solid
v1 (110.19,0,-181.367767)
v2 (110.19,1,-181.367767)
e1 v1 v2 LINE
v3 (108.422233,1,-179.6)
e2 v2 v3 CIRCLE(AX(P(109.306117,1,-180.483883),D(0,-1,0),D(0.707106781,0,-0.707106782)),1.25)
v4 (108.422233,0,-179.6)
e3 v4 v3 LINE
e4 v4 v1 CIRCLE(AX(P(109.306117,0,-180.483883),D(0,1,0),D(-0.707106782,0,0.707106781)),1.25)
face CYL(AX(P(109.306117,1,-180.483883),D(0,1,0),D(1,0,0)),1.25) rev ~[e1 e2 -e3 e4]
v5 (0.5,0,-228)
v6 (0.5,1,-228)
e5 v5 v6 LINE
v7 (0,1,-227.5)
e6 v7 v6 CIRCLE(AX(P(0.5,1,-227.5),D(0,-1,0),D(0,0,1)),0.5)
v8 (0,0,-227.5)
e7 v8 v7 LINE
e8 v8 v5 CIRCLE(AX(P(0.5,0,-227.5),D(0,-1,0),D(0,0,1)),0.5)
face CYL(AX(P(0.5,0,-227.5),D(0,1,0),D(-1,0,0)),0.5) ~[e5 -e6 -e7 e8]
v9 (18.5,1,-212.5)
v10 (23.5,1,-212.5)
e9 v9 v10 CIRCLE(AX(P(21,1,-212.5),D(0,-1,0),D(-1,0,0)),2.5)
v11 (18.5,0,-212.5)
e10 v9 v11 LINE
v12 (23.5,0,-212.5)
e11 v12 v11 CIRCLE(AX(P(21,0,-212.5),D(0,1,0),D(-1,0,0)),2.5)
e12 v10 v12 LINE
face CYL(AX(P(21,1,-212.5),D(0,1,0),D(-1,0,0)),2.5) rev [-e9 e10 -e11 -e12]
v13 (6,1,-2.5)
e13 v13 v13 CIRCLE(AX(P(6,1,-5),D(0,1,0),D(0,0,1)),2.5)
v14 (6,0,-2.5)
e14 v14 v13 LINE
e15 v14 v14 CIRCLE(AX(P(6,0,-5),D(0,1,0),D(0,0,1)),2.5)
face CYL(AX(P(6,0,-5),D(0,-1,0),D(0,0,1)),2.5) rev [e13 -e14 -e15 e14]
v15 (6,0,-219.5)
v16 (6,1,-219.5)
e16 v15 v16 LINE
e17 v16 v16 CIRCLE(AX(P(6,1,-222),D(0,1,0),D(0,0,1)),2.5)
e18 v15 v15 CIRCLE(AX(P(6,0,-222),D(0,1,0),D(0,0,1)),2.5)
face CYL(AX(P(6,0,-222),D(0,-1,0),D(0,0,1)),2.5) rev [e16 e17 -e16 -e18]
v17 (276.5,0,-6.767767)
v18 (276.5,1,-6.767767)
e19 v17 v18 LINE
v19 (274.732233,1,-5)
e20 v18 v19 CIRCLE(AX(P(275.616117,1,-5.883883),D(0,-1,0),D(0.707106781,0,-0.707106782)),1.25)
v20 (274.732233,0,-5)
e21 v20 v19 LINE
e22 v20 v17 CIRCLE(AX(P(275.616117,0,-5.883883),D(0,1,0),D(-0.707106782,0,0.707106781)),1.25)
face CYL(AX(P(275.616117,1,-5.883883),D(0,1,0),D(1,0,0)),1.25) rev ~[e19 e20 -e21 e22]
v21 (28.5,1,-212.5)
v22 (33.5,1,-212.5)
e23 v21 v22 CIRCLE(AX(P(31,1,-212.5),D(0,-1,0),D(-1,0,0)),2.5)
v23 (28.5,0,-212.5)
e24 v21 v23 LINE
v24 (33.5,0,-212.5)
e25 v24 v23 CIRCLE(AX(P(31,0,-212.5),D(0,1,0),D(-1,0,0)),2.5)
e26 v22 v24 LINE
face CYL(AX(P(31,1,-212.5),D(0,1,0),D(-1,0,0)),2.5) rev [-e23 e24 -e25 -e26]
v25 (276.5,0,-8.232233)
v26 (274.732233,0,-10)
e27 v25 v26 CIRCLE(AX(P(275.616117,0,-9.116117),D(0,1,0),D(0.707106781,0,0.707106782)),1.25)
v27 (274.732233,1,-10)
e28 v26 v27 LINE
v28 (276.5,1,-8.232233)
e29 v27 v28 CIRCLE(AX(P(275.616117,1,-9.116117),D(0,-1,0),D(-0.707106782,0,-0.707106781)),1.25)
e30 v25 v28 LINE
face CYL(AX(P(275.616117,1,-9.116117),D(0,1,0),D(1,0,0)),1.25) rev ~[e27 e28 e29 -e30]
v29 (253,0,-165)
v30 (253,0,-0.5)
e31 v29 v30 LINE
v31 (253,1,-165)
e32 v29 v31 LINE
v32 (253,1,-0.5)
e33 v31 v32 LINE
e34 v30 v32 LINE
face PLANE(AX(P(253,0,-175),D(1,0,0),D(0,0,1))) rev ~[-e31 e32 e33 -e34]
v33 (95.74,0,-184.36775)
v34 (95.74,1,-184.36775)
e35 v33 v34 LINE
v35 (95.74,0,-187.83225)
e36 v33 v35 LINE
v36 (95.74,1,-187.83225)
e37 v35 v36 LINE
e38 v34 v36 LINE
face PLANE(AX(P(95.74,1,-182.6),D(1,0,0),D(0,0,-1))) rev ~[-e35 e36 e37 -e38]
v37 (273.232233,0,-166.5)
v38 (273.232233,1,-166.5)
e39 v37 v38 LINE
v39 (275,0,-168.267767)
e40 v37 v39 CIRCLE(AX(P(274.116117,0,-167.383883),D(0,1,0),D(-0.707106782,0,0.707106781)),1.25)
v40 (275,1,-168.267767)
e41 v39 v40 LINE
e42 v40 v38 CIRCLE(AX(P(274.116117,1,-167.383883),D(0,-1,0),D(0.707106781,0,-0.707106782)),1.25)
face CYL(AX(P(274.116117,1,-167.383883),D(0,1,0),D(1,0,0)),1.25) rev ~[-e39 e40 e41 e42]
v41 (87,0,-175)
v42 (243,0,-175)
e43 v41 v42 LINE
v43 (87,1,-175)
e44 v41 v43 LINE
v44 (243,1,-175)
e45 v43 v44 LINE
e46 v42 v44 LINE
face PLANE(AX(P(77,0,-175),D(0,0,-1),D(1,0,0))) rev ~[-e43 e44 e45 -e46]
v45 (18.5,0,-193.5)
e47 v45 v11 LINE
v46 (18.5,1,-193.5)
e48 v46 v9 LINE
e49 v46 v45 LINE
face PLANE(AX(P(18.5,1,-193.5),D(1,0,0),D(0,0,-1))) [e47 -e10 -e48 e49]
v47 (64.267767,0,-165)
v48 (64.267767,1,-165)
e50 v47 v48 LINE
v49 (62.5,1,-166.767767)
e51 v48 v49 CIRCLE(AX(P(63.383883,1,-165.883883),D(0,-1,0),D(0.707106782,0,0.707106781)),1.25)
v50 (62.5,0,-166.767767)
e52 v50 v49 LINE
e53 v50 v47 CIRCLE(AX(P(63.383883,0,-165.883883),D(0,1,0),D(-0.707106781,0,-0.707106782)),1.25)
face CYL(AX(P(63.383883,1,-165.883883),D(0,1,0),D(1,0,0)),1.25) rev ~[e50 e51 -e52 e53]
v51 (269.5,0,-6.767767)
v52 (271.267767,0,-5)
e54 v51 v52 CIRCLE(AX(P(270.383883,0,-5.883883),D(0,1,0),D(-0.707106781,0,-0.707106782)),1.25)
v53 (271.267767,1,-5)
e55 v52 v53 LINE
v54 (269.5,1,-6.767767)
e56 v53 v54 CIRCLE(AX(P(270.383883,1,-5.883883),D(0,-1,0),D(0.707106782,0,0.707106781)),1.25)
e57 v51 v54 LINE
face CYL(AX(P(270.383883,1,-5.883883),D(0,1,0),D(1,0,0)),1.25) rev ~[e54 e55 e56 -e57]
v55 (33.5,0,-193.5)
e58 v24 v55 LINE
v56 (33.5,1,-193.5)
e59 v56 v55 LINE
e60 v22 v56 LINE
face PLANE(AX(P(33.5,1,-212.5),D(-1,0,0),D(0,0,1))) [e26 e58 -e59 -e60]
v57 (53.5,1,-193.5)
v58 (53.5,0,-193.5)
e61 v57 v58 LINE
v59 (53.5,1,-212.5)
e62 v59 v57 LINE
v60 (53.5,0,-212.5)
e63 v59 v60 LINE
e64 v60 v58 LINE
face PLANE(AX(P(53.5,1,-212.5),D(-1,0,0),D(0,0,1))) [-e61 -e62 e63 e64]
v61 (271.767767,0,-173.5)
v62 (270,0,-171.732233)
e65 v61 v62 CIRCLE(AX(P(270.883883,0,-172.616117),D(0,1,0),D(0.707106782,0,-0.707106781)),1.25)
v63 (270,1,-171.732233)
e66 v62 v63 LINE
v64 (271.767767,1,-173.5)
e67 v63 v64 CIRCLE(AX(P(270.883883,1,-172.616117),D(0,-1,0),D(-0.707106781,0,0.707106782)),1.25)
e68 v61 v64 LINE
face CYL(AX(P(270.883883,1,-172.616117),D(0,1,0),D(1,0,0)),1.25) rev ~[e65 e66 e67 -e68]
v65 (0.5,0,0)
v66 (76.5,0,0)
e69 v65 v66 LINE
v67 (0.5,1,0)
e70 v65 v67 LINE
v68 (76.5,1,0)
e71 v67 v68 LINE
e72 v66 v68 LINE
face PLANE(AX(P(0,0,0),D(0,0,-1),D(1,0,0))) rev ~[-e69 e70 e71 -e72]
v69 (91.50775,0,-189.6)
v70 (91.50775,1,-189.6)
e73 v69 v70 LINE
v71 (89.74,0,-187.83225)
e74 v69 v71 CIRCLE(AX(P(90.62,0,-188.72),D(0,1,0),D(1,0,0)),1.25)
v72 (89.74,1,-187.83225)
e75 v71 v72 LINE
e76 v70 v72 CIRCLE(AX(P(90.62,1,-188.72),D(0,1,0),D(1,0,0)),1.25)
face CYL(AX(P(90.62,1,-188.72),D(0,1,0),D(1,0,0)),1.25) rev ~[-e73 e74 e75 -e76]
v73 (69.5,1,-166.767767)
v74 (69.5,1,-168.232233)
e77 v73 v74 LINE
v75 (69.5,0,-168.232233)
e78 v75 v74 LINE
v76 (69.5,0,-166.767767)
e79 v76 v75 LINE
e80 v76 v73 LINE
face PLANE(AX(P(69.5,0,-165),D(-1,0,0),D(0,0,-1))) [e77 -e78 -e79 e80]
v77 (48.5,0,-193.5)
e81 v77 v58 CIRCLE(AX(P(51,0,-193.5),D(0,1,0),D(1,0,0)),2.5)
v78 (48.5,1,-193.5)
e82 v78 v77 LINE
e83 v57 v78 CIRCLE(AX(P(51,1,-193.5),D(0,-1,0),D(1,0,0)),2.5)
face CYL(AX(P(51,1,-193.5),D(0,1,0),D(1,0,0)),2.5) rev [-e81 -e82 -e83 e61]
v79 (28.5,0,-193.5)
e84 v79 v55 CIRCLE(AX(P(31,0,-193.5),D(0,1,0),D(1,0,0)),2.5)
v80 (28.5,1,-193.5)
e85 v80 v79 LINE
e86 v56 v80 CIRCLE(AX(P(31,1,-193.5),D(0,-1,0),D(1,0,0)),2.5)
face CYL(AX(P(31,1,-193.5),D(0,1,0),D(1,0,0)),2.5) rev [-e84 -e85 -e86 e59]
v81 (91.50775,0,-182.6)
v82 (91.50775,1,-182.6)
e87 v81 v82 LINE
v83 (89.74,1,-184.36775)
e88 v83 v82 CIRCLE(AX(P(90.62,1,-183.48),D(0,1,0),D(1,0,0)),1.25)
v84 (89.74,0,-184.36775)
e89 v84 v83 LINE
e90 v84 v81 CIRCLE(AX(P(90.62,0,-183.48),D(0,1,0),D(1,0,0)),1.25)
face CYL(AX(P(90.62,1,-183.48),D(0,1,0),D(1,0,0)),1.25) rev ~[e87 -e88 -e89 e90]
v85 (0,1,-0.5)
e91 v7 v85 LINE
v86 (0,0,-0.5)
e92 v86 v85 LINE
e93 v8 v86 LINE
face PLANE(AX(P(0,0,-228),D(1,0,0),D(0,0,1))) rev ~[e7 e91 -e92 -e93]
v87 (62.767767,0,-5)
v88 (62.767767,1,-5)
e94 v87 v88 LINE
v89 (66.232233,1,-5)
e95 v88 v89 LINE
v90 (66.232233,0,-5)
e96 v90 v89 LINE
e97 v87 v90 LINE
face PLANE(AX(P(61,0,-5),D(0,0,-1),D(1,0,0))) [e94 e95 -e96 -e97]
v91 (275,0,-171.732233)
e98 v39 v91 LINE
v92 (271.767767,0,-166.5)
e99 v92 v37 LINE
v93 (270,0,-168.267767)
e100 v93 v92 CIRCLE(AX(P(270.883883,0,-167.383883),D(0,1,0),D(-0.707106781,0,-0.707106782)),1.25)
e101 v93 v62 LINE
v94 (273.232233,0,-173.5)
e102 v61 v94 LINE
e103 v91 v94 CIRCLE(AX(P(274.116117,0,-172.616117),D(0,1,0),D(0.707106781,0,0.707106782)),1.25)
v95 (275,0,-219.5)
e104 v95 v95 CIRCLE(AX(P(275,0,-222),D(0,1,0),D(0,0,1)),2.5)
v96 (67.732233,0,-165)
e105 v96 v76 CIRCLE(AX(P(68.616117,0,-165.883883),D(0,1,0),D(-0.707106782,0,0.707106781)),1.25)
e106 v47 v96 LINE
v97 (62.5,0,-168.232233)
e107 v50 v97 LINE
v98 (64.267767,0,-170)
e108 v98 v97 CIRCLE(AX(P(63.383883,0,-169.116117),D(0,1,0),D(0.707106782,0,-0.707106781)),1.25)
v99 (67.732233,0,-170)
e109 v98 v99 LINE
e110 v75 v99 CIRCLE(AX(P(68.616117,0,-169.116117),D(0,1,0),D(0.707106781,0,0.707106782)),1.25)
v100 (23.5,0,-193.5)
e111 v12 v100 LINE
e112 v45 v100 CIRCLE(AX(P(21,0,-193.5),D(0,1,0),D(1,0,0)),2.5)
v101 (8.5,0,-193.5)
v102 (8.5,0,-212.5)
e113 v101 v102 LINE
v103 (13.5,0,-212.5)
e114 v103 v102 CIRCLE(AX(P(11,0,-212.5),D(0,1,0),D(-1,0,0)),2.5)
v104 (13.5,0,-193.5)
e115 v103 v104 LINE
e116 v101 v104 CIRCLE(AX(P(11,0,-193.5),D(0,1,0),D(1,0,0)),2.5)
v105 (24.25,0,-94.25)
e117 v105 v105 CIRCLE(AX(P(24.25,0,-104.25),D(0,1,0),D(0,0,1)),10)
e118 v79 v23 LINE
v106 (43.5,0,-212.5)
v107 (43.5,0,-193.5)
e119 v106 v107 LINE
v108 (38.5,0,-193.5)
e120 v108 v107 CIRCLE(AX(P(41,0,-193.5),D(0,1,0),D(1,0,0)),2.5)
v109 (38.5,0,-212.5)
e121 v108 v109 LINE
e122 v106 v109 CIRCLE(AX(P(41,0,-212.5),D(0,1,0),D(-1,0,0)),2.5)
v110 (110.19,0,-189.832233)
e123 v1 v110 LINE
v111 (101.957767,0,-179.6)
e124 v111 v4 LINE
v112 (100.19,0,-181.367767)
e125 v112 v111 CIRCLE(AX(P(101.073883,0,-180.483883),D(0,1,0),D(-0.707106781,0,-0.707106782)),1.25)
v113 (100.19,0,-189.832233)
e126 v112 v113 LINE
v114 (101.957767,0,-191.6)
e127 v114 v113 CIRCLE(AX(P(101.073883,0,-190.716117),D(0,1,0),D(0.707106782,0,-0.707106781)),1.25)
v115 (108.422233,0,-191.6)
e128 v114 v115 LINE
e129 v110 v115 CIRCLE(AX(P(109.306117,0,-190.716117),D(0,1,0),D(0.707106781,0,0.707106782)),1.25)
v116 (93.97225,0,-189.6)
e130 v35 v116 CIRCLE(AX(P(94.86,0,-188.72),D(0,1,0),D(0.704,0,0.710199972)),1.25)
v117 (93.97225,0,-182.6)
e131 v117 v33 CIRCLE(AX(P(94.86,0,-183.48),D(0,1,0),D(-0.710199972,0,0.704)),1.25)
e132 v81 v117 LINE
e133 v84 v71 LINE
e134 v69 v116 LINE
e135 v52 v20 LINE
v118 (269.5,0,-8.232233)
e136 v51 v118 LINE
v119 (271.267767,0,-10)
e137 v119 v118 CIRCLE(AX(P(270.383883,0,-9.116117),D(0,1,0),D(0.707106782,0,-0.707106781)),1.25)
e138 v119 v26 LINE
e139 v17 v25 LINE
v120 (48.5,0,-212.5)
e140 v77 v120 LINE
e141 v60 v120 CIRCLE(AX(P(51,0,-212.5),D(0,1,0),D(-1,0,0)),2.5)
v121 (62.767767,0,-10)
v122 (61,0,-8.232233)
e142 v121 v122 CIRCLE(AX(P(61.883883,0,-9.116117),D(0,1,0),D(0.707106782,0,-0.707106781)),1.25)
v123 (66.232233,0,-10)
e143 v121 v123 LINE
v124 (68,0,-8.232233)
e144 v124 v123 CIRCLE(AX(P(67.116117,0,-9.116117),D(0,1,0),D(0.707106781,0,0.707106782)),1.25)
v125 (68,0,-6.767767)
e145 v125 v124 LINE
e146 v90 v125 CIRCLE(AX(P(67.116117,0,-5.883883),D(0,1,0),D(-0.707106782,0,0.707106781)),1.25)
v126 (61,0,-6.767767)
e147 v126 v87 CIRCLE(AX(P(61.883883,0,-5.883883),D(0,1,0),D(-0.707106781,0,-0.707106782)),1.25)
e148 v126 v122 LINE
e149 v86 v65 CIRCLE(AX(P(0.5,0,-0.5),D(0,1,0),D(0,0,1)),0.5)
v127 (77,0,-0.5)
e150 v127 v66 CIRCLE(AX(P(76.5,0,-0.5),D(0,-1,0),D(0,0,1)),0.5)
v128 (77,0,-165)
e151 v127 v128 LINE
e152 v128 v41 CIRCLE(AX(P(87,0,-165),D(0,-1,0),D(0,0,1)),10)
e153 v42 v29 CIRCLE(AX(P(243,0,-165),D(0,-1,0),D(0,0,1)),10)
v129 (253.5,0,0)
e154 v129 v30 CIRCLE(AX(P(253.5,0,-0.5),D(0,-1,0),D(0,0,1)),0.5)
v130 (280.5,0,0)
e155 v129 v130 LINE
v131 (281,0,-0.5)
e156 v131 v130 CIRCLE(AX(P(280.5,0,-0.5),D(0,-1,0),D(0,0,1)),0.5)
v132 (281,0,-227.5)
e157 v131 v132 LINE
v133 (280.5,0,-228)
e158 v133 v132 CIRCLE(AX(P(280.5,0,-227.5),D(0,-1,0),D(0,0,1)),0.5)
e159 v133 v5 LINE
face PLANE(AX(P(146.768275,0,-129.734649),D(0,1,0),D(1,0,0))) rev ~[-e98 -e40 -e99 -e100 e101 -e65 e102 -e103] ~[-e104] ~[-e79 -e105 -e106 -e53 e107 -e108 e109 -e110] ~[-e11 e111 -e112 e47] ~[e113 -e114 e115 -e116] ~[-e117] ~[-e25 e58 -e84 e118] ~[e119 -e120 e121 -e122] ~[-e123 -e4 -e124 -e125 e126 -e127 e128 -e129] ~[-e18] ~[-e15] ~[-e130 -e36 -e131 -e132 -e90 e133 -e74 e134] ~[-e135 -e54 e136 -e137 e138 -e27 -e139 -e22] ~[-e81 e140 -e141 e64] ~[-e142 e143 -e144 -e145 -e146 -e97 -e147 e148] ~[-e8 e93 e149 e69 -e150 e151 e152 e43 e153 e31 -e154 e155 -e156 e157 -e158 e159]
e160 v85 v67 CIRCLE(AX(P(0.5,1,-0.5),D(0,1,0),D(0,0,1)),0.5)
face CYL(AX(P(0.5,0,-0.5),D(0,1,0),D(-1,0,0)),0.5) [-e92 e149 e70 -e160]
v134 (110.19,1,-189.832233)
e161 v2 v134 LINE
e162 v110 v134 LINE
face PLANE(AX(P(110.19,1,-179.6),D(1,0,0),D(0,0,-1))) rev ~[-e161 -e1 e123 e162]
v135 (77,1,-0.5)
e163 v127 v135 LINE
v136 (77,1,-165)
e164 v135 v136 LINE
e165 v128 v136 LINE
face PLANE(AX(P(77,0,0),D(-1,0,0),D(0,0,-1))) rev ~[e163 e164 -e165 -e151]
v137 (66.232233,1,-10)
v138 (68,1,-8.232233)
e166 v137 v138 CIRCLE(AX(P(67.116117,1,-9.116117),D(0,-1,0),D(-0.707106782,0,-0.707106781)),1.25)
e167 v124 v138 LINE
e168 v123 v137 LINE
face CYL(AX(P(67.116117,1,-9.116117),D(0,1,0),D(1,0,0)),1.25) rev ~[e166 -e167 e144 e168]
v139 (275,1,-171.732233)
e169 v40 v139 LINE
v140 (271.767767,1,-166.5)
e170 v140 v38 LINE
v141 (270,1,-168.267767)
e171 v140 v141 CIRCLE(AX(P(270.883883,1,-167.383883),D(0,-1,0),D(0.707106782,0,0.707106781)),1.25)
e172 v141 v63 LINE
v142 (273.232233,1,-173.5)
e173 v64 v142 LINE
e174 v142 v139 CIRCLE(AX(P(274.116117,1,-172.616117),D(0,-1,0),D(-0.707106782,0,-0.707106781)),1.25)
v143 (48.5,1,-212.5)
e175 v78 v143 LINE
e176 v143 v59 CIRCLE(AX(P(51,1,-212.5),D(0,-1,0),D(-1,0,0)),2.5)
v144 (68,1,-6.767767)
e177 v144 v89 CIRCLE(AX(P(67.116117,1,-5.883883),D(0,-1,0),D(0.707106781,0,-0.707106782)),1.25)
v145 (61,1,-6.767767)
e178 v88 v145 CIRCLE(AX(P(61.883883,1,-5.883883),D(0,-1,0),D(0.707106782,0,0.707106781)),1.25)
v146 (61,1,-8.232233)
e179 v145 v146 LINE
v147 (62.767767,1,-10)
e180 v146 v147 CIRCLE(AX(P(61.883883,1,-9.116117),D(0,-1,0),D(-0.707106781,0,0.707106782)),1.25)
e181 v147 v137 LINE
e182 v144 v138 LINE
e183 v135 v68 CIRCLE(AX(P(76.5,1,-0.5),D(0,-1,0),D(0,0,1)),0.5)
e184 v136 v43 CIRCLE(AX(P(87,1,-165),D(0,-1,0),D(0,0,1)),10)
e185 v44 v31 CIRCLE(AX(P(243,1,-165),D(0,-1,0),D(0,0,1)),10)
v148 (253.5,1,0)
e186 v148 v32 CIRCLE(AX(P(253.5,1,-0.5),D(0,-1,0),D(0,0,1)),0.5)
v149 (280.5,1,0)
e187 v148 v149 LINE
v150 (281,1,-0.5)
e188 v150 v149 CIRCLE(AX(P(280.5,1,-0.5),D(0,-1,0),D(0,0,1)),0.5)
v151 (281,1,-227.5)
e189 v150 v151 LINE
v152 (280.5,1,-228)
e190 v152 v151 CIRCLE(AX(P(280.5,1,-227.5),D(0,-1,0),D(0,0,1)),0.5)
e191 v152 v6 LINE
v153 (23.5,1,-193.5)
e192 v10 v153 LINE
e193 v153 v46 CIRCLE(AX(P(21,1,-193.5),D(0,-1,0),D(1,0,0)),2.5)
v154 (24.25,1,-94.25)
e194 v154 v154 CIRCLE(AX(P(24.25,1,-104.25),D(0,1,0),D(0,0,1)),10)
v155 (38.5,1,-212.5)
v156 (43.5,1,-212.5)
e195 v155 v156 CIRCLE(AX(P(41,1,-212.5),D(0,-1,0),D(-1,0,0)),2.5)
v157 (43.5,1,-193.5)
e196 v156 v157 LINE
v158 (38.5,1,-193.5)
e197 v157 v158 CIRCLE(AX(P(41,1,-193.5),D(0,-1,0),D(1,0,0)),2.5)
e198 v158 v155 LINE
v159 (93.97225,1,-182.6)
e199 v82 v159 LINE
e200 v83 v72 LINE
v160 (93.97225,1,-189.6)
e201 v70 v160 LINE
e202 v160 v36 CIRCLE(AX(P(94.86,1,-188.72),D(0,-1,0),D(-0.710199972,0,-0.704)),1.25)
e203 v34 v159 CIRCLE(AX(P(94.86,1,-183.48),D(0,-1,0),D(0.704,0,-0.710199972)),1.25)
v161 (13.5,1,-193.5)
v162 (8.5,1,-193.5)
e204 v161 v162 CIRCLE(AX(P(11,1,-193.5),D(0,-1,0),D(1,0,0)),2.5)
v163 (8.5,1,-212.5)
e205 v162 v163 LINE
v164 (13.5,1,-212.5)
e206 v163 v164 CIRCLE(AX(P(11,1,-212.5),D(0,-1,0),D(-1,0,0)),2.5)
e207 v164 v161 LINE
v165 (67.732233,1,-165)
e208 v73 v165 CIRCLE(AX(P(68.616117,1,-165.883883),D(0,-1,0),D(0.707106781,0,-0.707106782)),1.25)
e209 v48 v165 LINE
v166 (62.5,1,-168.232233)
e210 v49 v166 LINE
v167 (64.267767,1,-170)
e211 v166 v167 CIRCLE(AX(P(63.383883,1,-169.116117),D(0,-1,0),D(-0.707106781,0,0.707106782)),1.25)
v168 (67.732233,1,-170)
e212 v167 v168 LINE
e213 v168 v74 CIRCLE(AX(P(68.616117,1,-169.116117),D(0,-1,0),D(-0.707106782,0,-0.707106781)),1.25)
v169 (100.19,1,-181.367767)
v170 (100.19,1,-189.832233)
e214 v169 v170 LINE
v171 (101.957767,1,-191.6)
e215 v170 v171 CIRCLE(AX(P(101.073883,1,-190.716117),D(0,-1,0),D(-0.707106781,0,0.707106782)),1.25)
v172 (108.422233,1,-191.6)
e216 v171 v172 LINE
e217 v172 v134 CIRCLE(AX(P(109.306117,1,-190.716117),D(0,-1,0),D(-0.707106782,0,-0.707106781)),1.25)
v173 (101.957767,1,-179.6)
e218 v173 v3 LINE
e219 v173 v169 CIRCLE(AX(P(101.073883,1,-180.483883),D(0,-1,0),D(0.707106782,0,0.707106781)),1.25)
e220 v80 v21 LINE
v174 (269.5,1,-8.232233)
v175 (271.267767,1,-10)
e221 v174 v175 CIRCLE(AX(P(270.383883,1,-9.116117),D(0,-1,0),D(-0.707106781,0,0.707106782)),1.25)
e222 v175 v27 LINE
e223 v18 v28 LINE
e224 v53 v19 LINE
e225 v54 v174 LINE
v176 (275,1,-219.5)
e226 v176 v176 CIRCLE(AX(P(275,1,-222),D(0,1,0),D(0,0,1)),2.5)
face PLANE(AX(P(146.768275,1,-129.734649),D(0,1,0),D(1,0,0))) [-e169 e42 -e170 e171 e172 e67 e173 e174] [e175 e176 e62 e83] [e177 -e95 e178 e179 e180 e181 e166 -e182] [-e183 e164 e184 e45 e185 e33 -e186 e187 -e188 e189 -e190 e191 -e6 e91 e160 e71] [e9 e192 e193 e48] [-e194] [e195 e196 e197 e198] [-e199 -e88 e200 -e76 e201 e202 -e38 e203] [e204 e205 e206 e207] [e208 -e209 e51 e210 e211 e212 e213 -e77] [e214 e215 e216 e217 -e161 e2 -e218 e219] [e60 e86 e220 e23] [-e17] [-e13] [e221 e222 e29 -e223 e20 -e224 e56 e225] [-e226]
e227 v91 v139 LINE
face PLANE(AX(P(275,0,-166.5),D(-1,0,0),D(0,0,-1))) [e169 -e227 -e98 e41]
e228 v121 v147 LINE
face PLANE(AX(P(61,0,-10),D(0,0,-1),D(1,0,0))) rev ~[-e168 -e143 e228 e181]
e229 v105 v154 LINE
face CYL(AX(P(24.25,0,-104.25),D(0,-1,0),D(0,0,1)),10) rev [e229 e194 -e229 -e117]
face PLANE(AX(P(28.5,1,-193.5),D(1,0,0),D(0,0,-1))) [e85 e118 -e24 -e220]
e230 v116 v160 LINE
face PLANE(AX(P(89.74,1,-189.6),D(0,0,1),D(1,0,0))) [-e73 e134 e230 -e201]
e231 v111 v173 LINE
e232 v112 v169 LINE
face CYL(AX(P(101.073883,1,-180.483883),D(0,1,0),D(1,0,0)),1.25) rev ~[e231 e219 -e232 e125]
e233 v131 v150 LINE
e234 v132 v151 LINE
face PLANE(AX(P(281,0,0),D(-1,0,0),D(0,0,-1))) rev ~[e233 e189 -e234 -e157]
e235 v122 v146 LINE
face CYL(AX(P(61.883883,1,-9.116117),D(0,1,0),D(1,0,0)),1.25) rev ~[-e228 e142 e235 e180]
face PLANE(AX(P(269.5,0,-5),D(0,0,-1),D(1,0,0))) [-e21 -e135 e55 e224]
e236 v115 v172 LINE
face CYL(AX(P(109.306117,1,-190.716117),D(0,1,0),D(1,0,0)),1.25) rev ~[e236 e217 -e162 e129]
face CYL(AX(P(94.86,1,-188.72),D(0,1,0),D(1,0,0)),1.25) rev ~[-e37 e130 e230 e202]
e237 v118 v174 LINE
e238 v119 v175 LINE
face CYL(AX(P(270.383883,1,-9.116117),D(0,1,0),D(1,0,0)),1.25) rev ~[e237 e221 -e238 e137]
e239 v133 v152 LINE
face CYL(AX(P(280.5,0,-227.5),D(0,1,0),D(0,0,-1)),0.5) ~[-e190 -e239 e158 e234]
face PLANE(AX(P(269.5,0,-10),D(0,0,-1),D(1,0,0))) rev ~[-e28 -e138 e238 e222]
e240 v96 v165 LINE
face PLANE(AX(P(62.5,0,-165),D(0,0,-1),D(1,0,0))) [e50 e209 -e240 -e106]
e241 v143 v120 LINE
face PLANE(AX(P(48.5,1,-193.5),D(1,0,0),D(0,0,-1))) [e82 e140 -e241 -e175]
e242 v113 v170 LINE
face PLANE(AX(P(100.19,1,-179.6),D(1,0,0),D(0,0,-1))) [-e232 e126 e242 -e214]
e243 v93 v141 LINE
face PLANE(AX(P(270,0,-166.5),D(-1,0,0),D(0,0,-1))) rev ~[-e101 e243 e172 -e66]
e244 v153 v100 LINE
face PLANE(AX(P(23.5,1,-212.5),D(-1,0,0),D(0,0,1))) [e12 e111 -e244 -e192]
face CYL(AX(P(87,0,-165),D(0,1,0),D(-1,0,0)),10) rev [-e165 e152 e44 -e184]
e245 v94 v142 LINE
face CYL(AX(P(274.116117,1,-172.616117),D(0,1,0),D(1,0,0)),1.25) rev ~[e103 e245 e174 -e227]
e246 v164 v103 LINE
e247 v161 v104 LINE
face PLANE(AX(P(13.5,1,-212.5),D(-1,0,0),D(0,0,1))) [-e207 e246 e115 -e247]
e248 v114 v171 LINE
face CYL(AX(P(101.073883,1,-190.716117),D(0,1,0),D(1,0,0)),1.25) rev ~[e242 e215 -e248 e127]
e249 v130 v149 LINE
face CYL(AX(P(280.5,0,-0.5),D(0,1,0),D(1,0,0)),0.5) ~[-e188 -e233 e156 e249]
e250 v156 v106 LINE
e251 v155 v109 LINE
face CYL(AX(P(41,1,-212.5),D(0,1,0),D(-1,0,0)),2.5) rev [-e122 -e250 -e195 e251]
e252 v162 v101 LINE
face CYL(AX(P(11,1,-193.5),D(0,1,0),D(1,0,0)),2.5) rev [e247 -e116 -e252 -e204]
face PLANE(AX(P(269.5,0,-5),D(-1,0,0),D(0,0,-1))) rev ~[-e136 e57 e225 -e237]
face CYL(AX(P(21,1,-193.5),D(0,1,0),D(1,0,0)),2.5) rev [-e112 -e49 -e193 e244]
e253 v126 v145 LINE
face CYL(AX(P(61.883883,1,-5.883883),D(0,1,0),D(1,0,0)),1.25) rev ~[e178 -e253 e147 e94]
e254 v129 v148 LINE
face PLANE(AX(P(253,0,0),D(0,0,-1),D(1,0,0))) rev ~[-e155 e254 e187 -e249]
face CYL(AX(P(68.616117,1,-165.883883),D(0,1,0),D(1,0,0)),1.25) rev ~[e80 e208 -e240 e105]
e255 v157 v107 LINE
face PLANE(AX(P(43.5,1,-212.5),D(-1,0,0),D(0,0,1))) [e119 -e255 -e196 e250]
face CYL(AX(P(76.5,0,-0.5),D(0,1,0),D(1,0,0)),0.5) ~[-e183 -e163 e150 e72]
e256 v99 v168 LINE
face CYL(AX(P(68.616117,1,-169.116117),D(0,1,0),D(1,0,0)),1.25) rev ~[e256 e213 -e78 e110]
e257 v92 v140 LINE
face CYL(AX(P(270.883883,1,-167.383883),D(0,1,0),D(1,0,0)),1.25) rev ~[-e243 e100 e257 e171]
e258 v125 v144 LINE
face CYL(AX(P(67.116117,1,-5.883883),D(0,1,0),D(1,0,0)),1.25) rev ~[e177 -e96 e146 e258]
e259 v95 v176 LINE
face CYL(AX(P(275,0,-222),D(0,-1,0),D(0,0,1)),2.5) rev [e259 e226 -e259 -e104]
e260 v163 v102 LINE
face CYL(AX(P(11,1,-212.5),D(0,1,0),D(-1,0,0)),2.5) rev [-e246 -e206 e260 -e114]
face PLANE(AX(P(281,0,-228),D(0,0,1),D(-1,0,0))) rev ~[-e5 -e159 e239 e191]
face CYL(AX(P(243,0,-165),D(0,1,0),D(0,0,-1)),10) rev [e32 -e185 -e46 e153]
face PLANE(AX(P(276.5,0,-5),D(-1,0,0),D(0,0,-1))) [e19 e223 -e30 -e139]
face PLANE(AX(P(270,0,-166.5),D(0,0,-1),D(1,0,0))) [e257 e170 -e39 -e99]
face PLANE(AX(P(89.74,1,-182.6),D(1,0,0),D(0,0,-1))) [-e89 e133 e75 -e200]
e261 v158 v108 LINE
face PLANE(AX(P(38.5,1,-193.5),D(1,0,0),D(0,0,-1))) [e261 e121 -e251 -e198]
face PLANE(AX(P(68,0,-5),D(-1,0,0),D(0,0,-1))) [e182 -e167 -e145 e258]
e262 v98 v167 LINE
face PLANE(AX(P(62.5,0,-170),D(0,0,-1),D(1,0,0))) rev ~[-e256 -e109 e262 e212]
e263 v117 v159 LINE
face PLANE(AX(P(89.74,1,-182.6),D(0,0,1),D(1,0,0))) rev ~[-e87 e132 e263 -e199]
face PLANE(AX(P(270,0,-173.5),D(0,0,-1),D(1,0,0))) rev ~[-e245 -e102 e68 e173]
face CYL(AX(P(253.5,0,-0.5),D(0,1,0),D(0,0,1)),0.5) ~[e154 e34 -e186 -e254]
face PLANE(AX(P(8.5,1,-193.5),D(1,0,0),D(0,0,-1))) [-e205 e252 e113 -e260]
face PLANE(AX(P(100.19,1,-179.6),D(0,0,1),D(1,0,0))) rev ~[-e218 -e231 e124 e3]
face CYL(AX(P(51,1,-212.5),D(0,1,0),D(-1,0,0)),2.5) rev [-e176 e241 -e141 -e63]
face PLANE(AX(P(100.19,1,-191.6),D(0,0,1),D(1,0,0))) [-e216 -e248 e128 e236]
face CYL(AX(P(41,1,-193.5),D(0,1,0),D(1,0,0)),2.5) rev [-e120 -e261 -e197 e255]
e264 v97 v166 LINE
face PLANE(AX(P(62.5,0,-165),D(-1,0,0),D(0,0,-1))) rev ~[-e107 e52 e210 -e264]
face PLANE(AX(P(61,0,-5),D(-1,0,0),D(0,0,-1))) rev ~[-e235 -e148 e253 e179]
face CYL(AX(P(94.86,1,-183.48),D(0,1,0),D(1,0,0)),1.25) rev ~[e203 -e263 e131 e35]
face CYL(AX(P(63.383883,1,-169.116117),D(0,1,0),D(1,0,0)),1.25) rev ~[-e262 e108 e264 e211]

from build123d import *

# Parameters (mm, degrees)
SKETCH1_R           = 10
SKETCH1_R_2         = 2.5
SKETCH1_W           = 7
SKETCH1_H           = 5
SKETCH1_W_2         = 5
SKETCH1_H_2         = 7
BOSS_EXTRUDE1_DEPTH = 1
FILLET1_R           = 10
CUT_EXTRUDE3_DEPTH  = 362.864615568
SKETCH6_W           = 10
SKETCH6_H           = 12
CUT_EXTRUDE5_DEPTH  = 10
SKETCH7_W           = 6
SKETCH7_H           = 7
CUT_EXTRUDE6_DEPTH  = 362.864615568
SKETCH3_R           = 1.25
CUT_EXTRUDE2_DEPTH  = 362.864615568
FILLET2_R           = 0.5


with BuildPart() as part:
    # Sketch1 → Boss-Extrude1 (new body)
    with BuildSketch(Plane(origin=(0, 0, 0), x_dir=(1, 0, 0), z_dir=(0, 1, 0))):
        Polygon((77, 0), (77, 175), (253, 175), (253, 0), (281, 0), (281, 228), (0, 228), (0, 0), align=None)
        with Locations(Location((24.25, 104.25, 0), (0, 0, 270))):
            Circle(SKETCH1_R, mode=Mode.SUBTRACT)
        with Locations(Location((6, 222, 0), (0, 0, 270))):
            Circle(SKETCH1_R_2, mode=Mode.SUBTRACT)
        with Locations(Location((6, 5, 0), (0, 0, 270))):
            Circle(SKETCH1_R_2, mode=Mode.SUBTRACT)
        with Locations(Location((275, 222, 0), (0, 0, 270))):
            Circle(SKETCH1_R_2, mode=Mode.SUBTRACT)
        with Locations((273, 7.5)):
            Rectangle(SKETCH1_W, SKETCH1_H, mode=Mode.SUBTRACT)
        with Locations((272.5, 170)):
            Rectangle(SKETCH1_W_2, SKETCH1_H_2, mode=Mode.SUBTRACT)
        with Locations((64.5, 7.5)):
            Rectangle(SKETCH1_W, SKETCH1_H, mode=Mode.SUBTRACT)
        with Locations((66, 167.5)):
            Rectangle(SKETCH1_W, SKETCH1_H, mode=Mode.SUBTRACT)
    extrude(amount=BOSS_EXTRUDE1_DEPTH)

    # Fillet1
    fillet1_edges = [part.edges().sort_by_distance(p)[0] for p in [
        (253, 0.5, -175),
        (77, 0.5, -175),
    ]]
    fillet(fillet1_edges, radius=FILLET1_R)

    # Sketch4 → Cut-Extrude3 (cut, through all)
    with BuildSketch(Plane(origin=(0, 1, 0), x_dir=(1, 0, 0), z_dir=(0, 1, 0))):
        with BuildLine():
            Line((53.5, 212.5), (53.5, 193.5))
            ThreePointArc((53.5, 193.5), (51, 191), (48.5, 193.5))
            Line((48.5, 193.5), (48.5, 212.5))
            ThreePointArc((48.5, 212.5), (51, 215), (53.5, 212.5))
        make_face()
        with BuildLine():
            Line((43.5, 212.5), (43.5, 193.5))
            ThreePointArc((43.5, 193.5), (41, 191), (38.5, 193.5))
            Line((38.5, 193.5), (38.5, 212.5))
            ThreePointArc((38.5, 212.5), (41, 215), (43.5, 212.5))
        make_face()
        with BuildLine():
            Line((33.5, 212.5), (33.5, 193.5))
            ThreePointArc((33.5, 193.5), (31, 191), (28.5, 193.5))
            Line((28.5, 193.5), (28.5, 212.5))
            ThreePointArc((28.5, 212.5), (31, 215), (33.5, 212.5))
        make_face()
        with BuildLine():
            Line((23.5, 212.5), (23.5, 193.5))
            ThreePointArc((23.5, 193.5), (21, 191), (18.5, 193.5))
            Line((18.5, 193.5), (18.5, 212.5))
            ThreePointArc((18.5, 212.5), (21, 215), (23.5, 212.5))
        make_face()
        with BuildLine():
            Line((13.5, 212.5), (13.5, 193.5))
            ThreePointArc((13.5, 193.5), (11, 191), (8.5, 193.5))
            Line((8.5, 193.5), (8.5, 212.5))
            ThreePointArc((8.5, 212.5), (11, 215), (13.5, 212.5))
        make_face()
    extrude(amount=-CUT_EXTRUDE3_DEPTH, mode=Mode.SUBTRACT)

    # Sketch6 → Cut-Extrude5 (cut)
    with BuildSketch(Plane(origin=(0, 1, 0), x_dir=(1, 0, 0), z_dir=(0, 1, 0))):
        with Locations((105.19, 185.6)):
            Rectangle(SKETCH6_W, SKETCH6_H)
    extrude(amount=-CUT_EXTRUDE5_DEPTH, mode=Mode.SUBTRACT)

    # Sketch7 → Cut-Extrude6 (cut, through all)
    with BuildSketch(Plane(origin=(0, 1, 0), x_dir=(1, 0, 0), z_dir=(0, 1, 0))):
        with Locations((92.74, 186.1)):
            Rectangle(SKETCH7_W, SKETCH7_H)
    extrude(amount=-CUT_EXTRUDE6_DEPTH, mode=Mode.SUBTRACT)

    # Sketch3 → Cut-Extrude2 (cut, through all)
    with BuildSketch(Plane(origin=(0, 1, 0), x_dir=(1, 0, 0), z_dir=(0, 1, 0))):
        with Locations((275.616116524, 5.883883476)):
            Circle(SKETCH3_R)
        with Locations((275.616116524, 9.116116524)):
            Circle(SKETCH3_R)
        with Locations((270.383883476, 9.116116524)):
            Circle(SKETCH3_R)
        with Locations((270.383883476, 5.883883476)):
            Circle(SKETCH3_R)
        with Locations((274.116116524, 167.383883476)):
            Circle(SKETCH3_R)
        with Locations((270.883883476, 167.383883476)):
            Circle(SKETCH3_R)
        with Locations((274.116116524, 172.616116524)):
            Circle(SKETCH3_R)
        with Locations((270.883883476, 172.616116524)):
            Circle(SKETCH3_R)
        with Locations((67.116116524, 9.116116524)):
            Circle(SKETCH3_R)
        with Locations((67.116116524, 5.883883476)):
            Circle(SKETCH3_R)
        with Locations((61.883883476, 5.883883476)):
            Circle(SKETCH3_R)
        with Locations((61.883883476, 9.116116524)):
            Circle(SKETCH3_R)
        with Locations((63.383883476, 165.883883476)):
            Circle(SKETCH3_R)
        with Locations((63.383883476, 169.116116524)):
            Circle(SKETCH3_R)
        with Locations((68.616116524, 169.116116524)):
            Circle(SKETCH3_R)
        with Locations((68.616116524, 165.883883476)):
            Circle(SKETCH3_R)
        with Locations((90.62, 188.72)):
            Circle(SKETCH3_R)
        with Locations((94.86, 188.72)):
            Circle(SKETCH3_R)
        with Locations((90.62, 183.48)):
            Circle(SKETCH3_R)
        with Locations((94.86, 183.48)):
            Circle(SKETCH3_R)
        with Locations((101.073883476, 190.716116524)):
            Circle(SKETCH3_R)
        with Locations((109.306116524, 180.483883476)):
            Circle(SKETCH3_R)
        with Locations((109.306116524, 190.716116524)):
            Circle(SKETCH3_R)
        with Locations((101.073883476, 180.483883476)):
            Circle(SKETCH3_R)
    extrude(amount=-CUT_EXTRUDE2_DEPTH, mode=Mode.SUBTRACT)

    # Fillet2
    fillet2_edges = [part.edges().sort_by_distance(p)[0] for p in [
        (0, 0.5, 0),
        (0, 0.5, -228),
        (281, 0.5, -228),
        (281, 0.5, 0),
        (253, 0.5, 0),
        (77, 0.5, 0),
    ]]
    fillet(fillet2_edges, radius=FILLET2_R)


solid = part.part
